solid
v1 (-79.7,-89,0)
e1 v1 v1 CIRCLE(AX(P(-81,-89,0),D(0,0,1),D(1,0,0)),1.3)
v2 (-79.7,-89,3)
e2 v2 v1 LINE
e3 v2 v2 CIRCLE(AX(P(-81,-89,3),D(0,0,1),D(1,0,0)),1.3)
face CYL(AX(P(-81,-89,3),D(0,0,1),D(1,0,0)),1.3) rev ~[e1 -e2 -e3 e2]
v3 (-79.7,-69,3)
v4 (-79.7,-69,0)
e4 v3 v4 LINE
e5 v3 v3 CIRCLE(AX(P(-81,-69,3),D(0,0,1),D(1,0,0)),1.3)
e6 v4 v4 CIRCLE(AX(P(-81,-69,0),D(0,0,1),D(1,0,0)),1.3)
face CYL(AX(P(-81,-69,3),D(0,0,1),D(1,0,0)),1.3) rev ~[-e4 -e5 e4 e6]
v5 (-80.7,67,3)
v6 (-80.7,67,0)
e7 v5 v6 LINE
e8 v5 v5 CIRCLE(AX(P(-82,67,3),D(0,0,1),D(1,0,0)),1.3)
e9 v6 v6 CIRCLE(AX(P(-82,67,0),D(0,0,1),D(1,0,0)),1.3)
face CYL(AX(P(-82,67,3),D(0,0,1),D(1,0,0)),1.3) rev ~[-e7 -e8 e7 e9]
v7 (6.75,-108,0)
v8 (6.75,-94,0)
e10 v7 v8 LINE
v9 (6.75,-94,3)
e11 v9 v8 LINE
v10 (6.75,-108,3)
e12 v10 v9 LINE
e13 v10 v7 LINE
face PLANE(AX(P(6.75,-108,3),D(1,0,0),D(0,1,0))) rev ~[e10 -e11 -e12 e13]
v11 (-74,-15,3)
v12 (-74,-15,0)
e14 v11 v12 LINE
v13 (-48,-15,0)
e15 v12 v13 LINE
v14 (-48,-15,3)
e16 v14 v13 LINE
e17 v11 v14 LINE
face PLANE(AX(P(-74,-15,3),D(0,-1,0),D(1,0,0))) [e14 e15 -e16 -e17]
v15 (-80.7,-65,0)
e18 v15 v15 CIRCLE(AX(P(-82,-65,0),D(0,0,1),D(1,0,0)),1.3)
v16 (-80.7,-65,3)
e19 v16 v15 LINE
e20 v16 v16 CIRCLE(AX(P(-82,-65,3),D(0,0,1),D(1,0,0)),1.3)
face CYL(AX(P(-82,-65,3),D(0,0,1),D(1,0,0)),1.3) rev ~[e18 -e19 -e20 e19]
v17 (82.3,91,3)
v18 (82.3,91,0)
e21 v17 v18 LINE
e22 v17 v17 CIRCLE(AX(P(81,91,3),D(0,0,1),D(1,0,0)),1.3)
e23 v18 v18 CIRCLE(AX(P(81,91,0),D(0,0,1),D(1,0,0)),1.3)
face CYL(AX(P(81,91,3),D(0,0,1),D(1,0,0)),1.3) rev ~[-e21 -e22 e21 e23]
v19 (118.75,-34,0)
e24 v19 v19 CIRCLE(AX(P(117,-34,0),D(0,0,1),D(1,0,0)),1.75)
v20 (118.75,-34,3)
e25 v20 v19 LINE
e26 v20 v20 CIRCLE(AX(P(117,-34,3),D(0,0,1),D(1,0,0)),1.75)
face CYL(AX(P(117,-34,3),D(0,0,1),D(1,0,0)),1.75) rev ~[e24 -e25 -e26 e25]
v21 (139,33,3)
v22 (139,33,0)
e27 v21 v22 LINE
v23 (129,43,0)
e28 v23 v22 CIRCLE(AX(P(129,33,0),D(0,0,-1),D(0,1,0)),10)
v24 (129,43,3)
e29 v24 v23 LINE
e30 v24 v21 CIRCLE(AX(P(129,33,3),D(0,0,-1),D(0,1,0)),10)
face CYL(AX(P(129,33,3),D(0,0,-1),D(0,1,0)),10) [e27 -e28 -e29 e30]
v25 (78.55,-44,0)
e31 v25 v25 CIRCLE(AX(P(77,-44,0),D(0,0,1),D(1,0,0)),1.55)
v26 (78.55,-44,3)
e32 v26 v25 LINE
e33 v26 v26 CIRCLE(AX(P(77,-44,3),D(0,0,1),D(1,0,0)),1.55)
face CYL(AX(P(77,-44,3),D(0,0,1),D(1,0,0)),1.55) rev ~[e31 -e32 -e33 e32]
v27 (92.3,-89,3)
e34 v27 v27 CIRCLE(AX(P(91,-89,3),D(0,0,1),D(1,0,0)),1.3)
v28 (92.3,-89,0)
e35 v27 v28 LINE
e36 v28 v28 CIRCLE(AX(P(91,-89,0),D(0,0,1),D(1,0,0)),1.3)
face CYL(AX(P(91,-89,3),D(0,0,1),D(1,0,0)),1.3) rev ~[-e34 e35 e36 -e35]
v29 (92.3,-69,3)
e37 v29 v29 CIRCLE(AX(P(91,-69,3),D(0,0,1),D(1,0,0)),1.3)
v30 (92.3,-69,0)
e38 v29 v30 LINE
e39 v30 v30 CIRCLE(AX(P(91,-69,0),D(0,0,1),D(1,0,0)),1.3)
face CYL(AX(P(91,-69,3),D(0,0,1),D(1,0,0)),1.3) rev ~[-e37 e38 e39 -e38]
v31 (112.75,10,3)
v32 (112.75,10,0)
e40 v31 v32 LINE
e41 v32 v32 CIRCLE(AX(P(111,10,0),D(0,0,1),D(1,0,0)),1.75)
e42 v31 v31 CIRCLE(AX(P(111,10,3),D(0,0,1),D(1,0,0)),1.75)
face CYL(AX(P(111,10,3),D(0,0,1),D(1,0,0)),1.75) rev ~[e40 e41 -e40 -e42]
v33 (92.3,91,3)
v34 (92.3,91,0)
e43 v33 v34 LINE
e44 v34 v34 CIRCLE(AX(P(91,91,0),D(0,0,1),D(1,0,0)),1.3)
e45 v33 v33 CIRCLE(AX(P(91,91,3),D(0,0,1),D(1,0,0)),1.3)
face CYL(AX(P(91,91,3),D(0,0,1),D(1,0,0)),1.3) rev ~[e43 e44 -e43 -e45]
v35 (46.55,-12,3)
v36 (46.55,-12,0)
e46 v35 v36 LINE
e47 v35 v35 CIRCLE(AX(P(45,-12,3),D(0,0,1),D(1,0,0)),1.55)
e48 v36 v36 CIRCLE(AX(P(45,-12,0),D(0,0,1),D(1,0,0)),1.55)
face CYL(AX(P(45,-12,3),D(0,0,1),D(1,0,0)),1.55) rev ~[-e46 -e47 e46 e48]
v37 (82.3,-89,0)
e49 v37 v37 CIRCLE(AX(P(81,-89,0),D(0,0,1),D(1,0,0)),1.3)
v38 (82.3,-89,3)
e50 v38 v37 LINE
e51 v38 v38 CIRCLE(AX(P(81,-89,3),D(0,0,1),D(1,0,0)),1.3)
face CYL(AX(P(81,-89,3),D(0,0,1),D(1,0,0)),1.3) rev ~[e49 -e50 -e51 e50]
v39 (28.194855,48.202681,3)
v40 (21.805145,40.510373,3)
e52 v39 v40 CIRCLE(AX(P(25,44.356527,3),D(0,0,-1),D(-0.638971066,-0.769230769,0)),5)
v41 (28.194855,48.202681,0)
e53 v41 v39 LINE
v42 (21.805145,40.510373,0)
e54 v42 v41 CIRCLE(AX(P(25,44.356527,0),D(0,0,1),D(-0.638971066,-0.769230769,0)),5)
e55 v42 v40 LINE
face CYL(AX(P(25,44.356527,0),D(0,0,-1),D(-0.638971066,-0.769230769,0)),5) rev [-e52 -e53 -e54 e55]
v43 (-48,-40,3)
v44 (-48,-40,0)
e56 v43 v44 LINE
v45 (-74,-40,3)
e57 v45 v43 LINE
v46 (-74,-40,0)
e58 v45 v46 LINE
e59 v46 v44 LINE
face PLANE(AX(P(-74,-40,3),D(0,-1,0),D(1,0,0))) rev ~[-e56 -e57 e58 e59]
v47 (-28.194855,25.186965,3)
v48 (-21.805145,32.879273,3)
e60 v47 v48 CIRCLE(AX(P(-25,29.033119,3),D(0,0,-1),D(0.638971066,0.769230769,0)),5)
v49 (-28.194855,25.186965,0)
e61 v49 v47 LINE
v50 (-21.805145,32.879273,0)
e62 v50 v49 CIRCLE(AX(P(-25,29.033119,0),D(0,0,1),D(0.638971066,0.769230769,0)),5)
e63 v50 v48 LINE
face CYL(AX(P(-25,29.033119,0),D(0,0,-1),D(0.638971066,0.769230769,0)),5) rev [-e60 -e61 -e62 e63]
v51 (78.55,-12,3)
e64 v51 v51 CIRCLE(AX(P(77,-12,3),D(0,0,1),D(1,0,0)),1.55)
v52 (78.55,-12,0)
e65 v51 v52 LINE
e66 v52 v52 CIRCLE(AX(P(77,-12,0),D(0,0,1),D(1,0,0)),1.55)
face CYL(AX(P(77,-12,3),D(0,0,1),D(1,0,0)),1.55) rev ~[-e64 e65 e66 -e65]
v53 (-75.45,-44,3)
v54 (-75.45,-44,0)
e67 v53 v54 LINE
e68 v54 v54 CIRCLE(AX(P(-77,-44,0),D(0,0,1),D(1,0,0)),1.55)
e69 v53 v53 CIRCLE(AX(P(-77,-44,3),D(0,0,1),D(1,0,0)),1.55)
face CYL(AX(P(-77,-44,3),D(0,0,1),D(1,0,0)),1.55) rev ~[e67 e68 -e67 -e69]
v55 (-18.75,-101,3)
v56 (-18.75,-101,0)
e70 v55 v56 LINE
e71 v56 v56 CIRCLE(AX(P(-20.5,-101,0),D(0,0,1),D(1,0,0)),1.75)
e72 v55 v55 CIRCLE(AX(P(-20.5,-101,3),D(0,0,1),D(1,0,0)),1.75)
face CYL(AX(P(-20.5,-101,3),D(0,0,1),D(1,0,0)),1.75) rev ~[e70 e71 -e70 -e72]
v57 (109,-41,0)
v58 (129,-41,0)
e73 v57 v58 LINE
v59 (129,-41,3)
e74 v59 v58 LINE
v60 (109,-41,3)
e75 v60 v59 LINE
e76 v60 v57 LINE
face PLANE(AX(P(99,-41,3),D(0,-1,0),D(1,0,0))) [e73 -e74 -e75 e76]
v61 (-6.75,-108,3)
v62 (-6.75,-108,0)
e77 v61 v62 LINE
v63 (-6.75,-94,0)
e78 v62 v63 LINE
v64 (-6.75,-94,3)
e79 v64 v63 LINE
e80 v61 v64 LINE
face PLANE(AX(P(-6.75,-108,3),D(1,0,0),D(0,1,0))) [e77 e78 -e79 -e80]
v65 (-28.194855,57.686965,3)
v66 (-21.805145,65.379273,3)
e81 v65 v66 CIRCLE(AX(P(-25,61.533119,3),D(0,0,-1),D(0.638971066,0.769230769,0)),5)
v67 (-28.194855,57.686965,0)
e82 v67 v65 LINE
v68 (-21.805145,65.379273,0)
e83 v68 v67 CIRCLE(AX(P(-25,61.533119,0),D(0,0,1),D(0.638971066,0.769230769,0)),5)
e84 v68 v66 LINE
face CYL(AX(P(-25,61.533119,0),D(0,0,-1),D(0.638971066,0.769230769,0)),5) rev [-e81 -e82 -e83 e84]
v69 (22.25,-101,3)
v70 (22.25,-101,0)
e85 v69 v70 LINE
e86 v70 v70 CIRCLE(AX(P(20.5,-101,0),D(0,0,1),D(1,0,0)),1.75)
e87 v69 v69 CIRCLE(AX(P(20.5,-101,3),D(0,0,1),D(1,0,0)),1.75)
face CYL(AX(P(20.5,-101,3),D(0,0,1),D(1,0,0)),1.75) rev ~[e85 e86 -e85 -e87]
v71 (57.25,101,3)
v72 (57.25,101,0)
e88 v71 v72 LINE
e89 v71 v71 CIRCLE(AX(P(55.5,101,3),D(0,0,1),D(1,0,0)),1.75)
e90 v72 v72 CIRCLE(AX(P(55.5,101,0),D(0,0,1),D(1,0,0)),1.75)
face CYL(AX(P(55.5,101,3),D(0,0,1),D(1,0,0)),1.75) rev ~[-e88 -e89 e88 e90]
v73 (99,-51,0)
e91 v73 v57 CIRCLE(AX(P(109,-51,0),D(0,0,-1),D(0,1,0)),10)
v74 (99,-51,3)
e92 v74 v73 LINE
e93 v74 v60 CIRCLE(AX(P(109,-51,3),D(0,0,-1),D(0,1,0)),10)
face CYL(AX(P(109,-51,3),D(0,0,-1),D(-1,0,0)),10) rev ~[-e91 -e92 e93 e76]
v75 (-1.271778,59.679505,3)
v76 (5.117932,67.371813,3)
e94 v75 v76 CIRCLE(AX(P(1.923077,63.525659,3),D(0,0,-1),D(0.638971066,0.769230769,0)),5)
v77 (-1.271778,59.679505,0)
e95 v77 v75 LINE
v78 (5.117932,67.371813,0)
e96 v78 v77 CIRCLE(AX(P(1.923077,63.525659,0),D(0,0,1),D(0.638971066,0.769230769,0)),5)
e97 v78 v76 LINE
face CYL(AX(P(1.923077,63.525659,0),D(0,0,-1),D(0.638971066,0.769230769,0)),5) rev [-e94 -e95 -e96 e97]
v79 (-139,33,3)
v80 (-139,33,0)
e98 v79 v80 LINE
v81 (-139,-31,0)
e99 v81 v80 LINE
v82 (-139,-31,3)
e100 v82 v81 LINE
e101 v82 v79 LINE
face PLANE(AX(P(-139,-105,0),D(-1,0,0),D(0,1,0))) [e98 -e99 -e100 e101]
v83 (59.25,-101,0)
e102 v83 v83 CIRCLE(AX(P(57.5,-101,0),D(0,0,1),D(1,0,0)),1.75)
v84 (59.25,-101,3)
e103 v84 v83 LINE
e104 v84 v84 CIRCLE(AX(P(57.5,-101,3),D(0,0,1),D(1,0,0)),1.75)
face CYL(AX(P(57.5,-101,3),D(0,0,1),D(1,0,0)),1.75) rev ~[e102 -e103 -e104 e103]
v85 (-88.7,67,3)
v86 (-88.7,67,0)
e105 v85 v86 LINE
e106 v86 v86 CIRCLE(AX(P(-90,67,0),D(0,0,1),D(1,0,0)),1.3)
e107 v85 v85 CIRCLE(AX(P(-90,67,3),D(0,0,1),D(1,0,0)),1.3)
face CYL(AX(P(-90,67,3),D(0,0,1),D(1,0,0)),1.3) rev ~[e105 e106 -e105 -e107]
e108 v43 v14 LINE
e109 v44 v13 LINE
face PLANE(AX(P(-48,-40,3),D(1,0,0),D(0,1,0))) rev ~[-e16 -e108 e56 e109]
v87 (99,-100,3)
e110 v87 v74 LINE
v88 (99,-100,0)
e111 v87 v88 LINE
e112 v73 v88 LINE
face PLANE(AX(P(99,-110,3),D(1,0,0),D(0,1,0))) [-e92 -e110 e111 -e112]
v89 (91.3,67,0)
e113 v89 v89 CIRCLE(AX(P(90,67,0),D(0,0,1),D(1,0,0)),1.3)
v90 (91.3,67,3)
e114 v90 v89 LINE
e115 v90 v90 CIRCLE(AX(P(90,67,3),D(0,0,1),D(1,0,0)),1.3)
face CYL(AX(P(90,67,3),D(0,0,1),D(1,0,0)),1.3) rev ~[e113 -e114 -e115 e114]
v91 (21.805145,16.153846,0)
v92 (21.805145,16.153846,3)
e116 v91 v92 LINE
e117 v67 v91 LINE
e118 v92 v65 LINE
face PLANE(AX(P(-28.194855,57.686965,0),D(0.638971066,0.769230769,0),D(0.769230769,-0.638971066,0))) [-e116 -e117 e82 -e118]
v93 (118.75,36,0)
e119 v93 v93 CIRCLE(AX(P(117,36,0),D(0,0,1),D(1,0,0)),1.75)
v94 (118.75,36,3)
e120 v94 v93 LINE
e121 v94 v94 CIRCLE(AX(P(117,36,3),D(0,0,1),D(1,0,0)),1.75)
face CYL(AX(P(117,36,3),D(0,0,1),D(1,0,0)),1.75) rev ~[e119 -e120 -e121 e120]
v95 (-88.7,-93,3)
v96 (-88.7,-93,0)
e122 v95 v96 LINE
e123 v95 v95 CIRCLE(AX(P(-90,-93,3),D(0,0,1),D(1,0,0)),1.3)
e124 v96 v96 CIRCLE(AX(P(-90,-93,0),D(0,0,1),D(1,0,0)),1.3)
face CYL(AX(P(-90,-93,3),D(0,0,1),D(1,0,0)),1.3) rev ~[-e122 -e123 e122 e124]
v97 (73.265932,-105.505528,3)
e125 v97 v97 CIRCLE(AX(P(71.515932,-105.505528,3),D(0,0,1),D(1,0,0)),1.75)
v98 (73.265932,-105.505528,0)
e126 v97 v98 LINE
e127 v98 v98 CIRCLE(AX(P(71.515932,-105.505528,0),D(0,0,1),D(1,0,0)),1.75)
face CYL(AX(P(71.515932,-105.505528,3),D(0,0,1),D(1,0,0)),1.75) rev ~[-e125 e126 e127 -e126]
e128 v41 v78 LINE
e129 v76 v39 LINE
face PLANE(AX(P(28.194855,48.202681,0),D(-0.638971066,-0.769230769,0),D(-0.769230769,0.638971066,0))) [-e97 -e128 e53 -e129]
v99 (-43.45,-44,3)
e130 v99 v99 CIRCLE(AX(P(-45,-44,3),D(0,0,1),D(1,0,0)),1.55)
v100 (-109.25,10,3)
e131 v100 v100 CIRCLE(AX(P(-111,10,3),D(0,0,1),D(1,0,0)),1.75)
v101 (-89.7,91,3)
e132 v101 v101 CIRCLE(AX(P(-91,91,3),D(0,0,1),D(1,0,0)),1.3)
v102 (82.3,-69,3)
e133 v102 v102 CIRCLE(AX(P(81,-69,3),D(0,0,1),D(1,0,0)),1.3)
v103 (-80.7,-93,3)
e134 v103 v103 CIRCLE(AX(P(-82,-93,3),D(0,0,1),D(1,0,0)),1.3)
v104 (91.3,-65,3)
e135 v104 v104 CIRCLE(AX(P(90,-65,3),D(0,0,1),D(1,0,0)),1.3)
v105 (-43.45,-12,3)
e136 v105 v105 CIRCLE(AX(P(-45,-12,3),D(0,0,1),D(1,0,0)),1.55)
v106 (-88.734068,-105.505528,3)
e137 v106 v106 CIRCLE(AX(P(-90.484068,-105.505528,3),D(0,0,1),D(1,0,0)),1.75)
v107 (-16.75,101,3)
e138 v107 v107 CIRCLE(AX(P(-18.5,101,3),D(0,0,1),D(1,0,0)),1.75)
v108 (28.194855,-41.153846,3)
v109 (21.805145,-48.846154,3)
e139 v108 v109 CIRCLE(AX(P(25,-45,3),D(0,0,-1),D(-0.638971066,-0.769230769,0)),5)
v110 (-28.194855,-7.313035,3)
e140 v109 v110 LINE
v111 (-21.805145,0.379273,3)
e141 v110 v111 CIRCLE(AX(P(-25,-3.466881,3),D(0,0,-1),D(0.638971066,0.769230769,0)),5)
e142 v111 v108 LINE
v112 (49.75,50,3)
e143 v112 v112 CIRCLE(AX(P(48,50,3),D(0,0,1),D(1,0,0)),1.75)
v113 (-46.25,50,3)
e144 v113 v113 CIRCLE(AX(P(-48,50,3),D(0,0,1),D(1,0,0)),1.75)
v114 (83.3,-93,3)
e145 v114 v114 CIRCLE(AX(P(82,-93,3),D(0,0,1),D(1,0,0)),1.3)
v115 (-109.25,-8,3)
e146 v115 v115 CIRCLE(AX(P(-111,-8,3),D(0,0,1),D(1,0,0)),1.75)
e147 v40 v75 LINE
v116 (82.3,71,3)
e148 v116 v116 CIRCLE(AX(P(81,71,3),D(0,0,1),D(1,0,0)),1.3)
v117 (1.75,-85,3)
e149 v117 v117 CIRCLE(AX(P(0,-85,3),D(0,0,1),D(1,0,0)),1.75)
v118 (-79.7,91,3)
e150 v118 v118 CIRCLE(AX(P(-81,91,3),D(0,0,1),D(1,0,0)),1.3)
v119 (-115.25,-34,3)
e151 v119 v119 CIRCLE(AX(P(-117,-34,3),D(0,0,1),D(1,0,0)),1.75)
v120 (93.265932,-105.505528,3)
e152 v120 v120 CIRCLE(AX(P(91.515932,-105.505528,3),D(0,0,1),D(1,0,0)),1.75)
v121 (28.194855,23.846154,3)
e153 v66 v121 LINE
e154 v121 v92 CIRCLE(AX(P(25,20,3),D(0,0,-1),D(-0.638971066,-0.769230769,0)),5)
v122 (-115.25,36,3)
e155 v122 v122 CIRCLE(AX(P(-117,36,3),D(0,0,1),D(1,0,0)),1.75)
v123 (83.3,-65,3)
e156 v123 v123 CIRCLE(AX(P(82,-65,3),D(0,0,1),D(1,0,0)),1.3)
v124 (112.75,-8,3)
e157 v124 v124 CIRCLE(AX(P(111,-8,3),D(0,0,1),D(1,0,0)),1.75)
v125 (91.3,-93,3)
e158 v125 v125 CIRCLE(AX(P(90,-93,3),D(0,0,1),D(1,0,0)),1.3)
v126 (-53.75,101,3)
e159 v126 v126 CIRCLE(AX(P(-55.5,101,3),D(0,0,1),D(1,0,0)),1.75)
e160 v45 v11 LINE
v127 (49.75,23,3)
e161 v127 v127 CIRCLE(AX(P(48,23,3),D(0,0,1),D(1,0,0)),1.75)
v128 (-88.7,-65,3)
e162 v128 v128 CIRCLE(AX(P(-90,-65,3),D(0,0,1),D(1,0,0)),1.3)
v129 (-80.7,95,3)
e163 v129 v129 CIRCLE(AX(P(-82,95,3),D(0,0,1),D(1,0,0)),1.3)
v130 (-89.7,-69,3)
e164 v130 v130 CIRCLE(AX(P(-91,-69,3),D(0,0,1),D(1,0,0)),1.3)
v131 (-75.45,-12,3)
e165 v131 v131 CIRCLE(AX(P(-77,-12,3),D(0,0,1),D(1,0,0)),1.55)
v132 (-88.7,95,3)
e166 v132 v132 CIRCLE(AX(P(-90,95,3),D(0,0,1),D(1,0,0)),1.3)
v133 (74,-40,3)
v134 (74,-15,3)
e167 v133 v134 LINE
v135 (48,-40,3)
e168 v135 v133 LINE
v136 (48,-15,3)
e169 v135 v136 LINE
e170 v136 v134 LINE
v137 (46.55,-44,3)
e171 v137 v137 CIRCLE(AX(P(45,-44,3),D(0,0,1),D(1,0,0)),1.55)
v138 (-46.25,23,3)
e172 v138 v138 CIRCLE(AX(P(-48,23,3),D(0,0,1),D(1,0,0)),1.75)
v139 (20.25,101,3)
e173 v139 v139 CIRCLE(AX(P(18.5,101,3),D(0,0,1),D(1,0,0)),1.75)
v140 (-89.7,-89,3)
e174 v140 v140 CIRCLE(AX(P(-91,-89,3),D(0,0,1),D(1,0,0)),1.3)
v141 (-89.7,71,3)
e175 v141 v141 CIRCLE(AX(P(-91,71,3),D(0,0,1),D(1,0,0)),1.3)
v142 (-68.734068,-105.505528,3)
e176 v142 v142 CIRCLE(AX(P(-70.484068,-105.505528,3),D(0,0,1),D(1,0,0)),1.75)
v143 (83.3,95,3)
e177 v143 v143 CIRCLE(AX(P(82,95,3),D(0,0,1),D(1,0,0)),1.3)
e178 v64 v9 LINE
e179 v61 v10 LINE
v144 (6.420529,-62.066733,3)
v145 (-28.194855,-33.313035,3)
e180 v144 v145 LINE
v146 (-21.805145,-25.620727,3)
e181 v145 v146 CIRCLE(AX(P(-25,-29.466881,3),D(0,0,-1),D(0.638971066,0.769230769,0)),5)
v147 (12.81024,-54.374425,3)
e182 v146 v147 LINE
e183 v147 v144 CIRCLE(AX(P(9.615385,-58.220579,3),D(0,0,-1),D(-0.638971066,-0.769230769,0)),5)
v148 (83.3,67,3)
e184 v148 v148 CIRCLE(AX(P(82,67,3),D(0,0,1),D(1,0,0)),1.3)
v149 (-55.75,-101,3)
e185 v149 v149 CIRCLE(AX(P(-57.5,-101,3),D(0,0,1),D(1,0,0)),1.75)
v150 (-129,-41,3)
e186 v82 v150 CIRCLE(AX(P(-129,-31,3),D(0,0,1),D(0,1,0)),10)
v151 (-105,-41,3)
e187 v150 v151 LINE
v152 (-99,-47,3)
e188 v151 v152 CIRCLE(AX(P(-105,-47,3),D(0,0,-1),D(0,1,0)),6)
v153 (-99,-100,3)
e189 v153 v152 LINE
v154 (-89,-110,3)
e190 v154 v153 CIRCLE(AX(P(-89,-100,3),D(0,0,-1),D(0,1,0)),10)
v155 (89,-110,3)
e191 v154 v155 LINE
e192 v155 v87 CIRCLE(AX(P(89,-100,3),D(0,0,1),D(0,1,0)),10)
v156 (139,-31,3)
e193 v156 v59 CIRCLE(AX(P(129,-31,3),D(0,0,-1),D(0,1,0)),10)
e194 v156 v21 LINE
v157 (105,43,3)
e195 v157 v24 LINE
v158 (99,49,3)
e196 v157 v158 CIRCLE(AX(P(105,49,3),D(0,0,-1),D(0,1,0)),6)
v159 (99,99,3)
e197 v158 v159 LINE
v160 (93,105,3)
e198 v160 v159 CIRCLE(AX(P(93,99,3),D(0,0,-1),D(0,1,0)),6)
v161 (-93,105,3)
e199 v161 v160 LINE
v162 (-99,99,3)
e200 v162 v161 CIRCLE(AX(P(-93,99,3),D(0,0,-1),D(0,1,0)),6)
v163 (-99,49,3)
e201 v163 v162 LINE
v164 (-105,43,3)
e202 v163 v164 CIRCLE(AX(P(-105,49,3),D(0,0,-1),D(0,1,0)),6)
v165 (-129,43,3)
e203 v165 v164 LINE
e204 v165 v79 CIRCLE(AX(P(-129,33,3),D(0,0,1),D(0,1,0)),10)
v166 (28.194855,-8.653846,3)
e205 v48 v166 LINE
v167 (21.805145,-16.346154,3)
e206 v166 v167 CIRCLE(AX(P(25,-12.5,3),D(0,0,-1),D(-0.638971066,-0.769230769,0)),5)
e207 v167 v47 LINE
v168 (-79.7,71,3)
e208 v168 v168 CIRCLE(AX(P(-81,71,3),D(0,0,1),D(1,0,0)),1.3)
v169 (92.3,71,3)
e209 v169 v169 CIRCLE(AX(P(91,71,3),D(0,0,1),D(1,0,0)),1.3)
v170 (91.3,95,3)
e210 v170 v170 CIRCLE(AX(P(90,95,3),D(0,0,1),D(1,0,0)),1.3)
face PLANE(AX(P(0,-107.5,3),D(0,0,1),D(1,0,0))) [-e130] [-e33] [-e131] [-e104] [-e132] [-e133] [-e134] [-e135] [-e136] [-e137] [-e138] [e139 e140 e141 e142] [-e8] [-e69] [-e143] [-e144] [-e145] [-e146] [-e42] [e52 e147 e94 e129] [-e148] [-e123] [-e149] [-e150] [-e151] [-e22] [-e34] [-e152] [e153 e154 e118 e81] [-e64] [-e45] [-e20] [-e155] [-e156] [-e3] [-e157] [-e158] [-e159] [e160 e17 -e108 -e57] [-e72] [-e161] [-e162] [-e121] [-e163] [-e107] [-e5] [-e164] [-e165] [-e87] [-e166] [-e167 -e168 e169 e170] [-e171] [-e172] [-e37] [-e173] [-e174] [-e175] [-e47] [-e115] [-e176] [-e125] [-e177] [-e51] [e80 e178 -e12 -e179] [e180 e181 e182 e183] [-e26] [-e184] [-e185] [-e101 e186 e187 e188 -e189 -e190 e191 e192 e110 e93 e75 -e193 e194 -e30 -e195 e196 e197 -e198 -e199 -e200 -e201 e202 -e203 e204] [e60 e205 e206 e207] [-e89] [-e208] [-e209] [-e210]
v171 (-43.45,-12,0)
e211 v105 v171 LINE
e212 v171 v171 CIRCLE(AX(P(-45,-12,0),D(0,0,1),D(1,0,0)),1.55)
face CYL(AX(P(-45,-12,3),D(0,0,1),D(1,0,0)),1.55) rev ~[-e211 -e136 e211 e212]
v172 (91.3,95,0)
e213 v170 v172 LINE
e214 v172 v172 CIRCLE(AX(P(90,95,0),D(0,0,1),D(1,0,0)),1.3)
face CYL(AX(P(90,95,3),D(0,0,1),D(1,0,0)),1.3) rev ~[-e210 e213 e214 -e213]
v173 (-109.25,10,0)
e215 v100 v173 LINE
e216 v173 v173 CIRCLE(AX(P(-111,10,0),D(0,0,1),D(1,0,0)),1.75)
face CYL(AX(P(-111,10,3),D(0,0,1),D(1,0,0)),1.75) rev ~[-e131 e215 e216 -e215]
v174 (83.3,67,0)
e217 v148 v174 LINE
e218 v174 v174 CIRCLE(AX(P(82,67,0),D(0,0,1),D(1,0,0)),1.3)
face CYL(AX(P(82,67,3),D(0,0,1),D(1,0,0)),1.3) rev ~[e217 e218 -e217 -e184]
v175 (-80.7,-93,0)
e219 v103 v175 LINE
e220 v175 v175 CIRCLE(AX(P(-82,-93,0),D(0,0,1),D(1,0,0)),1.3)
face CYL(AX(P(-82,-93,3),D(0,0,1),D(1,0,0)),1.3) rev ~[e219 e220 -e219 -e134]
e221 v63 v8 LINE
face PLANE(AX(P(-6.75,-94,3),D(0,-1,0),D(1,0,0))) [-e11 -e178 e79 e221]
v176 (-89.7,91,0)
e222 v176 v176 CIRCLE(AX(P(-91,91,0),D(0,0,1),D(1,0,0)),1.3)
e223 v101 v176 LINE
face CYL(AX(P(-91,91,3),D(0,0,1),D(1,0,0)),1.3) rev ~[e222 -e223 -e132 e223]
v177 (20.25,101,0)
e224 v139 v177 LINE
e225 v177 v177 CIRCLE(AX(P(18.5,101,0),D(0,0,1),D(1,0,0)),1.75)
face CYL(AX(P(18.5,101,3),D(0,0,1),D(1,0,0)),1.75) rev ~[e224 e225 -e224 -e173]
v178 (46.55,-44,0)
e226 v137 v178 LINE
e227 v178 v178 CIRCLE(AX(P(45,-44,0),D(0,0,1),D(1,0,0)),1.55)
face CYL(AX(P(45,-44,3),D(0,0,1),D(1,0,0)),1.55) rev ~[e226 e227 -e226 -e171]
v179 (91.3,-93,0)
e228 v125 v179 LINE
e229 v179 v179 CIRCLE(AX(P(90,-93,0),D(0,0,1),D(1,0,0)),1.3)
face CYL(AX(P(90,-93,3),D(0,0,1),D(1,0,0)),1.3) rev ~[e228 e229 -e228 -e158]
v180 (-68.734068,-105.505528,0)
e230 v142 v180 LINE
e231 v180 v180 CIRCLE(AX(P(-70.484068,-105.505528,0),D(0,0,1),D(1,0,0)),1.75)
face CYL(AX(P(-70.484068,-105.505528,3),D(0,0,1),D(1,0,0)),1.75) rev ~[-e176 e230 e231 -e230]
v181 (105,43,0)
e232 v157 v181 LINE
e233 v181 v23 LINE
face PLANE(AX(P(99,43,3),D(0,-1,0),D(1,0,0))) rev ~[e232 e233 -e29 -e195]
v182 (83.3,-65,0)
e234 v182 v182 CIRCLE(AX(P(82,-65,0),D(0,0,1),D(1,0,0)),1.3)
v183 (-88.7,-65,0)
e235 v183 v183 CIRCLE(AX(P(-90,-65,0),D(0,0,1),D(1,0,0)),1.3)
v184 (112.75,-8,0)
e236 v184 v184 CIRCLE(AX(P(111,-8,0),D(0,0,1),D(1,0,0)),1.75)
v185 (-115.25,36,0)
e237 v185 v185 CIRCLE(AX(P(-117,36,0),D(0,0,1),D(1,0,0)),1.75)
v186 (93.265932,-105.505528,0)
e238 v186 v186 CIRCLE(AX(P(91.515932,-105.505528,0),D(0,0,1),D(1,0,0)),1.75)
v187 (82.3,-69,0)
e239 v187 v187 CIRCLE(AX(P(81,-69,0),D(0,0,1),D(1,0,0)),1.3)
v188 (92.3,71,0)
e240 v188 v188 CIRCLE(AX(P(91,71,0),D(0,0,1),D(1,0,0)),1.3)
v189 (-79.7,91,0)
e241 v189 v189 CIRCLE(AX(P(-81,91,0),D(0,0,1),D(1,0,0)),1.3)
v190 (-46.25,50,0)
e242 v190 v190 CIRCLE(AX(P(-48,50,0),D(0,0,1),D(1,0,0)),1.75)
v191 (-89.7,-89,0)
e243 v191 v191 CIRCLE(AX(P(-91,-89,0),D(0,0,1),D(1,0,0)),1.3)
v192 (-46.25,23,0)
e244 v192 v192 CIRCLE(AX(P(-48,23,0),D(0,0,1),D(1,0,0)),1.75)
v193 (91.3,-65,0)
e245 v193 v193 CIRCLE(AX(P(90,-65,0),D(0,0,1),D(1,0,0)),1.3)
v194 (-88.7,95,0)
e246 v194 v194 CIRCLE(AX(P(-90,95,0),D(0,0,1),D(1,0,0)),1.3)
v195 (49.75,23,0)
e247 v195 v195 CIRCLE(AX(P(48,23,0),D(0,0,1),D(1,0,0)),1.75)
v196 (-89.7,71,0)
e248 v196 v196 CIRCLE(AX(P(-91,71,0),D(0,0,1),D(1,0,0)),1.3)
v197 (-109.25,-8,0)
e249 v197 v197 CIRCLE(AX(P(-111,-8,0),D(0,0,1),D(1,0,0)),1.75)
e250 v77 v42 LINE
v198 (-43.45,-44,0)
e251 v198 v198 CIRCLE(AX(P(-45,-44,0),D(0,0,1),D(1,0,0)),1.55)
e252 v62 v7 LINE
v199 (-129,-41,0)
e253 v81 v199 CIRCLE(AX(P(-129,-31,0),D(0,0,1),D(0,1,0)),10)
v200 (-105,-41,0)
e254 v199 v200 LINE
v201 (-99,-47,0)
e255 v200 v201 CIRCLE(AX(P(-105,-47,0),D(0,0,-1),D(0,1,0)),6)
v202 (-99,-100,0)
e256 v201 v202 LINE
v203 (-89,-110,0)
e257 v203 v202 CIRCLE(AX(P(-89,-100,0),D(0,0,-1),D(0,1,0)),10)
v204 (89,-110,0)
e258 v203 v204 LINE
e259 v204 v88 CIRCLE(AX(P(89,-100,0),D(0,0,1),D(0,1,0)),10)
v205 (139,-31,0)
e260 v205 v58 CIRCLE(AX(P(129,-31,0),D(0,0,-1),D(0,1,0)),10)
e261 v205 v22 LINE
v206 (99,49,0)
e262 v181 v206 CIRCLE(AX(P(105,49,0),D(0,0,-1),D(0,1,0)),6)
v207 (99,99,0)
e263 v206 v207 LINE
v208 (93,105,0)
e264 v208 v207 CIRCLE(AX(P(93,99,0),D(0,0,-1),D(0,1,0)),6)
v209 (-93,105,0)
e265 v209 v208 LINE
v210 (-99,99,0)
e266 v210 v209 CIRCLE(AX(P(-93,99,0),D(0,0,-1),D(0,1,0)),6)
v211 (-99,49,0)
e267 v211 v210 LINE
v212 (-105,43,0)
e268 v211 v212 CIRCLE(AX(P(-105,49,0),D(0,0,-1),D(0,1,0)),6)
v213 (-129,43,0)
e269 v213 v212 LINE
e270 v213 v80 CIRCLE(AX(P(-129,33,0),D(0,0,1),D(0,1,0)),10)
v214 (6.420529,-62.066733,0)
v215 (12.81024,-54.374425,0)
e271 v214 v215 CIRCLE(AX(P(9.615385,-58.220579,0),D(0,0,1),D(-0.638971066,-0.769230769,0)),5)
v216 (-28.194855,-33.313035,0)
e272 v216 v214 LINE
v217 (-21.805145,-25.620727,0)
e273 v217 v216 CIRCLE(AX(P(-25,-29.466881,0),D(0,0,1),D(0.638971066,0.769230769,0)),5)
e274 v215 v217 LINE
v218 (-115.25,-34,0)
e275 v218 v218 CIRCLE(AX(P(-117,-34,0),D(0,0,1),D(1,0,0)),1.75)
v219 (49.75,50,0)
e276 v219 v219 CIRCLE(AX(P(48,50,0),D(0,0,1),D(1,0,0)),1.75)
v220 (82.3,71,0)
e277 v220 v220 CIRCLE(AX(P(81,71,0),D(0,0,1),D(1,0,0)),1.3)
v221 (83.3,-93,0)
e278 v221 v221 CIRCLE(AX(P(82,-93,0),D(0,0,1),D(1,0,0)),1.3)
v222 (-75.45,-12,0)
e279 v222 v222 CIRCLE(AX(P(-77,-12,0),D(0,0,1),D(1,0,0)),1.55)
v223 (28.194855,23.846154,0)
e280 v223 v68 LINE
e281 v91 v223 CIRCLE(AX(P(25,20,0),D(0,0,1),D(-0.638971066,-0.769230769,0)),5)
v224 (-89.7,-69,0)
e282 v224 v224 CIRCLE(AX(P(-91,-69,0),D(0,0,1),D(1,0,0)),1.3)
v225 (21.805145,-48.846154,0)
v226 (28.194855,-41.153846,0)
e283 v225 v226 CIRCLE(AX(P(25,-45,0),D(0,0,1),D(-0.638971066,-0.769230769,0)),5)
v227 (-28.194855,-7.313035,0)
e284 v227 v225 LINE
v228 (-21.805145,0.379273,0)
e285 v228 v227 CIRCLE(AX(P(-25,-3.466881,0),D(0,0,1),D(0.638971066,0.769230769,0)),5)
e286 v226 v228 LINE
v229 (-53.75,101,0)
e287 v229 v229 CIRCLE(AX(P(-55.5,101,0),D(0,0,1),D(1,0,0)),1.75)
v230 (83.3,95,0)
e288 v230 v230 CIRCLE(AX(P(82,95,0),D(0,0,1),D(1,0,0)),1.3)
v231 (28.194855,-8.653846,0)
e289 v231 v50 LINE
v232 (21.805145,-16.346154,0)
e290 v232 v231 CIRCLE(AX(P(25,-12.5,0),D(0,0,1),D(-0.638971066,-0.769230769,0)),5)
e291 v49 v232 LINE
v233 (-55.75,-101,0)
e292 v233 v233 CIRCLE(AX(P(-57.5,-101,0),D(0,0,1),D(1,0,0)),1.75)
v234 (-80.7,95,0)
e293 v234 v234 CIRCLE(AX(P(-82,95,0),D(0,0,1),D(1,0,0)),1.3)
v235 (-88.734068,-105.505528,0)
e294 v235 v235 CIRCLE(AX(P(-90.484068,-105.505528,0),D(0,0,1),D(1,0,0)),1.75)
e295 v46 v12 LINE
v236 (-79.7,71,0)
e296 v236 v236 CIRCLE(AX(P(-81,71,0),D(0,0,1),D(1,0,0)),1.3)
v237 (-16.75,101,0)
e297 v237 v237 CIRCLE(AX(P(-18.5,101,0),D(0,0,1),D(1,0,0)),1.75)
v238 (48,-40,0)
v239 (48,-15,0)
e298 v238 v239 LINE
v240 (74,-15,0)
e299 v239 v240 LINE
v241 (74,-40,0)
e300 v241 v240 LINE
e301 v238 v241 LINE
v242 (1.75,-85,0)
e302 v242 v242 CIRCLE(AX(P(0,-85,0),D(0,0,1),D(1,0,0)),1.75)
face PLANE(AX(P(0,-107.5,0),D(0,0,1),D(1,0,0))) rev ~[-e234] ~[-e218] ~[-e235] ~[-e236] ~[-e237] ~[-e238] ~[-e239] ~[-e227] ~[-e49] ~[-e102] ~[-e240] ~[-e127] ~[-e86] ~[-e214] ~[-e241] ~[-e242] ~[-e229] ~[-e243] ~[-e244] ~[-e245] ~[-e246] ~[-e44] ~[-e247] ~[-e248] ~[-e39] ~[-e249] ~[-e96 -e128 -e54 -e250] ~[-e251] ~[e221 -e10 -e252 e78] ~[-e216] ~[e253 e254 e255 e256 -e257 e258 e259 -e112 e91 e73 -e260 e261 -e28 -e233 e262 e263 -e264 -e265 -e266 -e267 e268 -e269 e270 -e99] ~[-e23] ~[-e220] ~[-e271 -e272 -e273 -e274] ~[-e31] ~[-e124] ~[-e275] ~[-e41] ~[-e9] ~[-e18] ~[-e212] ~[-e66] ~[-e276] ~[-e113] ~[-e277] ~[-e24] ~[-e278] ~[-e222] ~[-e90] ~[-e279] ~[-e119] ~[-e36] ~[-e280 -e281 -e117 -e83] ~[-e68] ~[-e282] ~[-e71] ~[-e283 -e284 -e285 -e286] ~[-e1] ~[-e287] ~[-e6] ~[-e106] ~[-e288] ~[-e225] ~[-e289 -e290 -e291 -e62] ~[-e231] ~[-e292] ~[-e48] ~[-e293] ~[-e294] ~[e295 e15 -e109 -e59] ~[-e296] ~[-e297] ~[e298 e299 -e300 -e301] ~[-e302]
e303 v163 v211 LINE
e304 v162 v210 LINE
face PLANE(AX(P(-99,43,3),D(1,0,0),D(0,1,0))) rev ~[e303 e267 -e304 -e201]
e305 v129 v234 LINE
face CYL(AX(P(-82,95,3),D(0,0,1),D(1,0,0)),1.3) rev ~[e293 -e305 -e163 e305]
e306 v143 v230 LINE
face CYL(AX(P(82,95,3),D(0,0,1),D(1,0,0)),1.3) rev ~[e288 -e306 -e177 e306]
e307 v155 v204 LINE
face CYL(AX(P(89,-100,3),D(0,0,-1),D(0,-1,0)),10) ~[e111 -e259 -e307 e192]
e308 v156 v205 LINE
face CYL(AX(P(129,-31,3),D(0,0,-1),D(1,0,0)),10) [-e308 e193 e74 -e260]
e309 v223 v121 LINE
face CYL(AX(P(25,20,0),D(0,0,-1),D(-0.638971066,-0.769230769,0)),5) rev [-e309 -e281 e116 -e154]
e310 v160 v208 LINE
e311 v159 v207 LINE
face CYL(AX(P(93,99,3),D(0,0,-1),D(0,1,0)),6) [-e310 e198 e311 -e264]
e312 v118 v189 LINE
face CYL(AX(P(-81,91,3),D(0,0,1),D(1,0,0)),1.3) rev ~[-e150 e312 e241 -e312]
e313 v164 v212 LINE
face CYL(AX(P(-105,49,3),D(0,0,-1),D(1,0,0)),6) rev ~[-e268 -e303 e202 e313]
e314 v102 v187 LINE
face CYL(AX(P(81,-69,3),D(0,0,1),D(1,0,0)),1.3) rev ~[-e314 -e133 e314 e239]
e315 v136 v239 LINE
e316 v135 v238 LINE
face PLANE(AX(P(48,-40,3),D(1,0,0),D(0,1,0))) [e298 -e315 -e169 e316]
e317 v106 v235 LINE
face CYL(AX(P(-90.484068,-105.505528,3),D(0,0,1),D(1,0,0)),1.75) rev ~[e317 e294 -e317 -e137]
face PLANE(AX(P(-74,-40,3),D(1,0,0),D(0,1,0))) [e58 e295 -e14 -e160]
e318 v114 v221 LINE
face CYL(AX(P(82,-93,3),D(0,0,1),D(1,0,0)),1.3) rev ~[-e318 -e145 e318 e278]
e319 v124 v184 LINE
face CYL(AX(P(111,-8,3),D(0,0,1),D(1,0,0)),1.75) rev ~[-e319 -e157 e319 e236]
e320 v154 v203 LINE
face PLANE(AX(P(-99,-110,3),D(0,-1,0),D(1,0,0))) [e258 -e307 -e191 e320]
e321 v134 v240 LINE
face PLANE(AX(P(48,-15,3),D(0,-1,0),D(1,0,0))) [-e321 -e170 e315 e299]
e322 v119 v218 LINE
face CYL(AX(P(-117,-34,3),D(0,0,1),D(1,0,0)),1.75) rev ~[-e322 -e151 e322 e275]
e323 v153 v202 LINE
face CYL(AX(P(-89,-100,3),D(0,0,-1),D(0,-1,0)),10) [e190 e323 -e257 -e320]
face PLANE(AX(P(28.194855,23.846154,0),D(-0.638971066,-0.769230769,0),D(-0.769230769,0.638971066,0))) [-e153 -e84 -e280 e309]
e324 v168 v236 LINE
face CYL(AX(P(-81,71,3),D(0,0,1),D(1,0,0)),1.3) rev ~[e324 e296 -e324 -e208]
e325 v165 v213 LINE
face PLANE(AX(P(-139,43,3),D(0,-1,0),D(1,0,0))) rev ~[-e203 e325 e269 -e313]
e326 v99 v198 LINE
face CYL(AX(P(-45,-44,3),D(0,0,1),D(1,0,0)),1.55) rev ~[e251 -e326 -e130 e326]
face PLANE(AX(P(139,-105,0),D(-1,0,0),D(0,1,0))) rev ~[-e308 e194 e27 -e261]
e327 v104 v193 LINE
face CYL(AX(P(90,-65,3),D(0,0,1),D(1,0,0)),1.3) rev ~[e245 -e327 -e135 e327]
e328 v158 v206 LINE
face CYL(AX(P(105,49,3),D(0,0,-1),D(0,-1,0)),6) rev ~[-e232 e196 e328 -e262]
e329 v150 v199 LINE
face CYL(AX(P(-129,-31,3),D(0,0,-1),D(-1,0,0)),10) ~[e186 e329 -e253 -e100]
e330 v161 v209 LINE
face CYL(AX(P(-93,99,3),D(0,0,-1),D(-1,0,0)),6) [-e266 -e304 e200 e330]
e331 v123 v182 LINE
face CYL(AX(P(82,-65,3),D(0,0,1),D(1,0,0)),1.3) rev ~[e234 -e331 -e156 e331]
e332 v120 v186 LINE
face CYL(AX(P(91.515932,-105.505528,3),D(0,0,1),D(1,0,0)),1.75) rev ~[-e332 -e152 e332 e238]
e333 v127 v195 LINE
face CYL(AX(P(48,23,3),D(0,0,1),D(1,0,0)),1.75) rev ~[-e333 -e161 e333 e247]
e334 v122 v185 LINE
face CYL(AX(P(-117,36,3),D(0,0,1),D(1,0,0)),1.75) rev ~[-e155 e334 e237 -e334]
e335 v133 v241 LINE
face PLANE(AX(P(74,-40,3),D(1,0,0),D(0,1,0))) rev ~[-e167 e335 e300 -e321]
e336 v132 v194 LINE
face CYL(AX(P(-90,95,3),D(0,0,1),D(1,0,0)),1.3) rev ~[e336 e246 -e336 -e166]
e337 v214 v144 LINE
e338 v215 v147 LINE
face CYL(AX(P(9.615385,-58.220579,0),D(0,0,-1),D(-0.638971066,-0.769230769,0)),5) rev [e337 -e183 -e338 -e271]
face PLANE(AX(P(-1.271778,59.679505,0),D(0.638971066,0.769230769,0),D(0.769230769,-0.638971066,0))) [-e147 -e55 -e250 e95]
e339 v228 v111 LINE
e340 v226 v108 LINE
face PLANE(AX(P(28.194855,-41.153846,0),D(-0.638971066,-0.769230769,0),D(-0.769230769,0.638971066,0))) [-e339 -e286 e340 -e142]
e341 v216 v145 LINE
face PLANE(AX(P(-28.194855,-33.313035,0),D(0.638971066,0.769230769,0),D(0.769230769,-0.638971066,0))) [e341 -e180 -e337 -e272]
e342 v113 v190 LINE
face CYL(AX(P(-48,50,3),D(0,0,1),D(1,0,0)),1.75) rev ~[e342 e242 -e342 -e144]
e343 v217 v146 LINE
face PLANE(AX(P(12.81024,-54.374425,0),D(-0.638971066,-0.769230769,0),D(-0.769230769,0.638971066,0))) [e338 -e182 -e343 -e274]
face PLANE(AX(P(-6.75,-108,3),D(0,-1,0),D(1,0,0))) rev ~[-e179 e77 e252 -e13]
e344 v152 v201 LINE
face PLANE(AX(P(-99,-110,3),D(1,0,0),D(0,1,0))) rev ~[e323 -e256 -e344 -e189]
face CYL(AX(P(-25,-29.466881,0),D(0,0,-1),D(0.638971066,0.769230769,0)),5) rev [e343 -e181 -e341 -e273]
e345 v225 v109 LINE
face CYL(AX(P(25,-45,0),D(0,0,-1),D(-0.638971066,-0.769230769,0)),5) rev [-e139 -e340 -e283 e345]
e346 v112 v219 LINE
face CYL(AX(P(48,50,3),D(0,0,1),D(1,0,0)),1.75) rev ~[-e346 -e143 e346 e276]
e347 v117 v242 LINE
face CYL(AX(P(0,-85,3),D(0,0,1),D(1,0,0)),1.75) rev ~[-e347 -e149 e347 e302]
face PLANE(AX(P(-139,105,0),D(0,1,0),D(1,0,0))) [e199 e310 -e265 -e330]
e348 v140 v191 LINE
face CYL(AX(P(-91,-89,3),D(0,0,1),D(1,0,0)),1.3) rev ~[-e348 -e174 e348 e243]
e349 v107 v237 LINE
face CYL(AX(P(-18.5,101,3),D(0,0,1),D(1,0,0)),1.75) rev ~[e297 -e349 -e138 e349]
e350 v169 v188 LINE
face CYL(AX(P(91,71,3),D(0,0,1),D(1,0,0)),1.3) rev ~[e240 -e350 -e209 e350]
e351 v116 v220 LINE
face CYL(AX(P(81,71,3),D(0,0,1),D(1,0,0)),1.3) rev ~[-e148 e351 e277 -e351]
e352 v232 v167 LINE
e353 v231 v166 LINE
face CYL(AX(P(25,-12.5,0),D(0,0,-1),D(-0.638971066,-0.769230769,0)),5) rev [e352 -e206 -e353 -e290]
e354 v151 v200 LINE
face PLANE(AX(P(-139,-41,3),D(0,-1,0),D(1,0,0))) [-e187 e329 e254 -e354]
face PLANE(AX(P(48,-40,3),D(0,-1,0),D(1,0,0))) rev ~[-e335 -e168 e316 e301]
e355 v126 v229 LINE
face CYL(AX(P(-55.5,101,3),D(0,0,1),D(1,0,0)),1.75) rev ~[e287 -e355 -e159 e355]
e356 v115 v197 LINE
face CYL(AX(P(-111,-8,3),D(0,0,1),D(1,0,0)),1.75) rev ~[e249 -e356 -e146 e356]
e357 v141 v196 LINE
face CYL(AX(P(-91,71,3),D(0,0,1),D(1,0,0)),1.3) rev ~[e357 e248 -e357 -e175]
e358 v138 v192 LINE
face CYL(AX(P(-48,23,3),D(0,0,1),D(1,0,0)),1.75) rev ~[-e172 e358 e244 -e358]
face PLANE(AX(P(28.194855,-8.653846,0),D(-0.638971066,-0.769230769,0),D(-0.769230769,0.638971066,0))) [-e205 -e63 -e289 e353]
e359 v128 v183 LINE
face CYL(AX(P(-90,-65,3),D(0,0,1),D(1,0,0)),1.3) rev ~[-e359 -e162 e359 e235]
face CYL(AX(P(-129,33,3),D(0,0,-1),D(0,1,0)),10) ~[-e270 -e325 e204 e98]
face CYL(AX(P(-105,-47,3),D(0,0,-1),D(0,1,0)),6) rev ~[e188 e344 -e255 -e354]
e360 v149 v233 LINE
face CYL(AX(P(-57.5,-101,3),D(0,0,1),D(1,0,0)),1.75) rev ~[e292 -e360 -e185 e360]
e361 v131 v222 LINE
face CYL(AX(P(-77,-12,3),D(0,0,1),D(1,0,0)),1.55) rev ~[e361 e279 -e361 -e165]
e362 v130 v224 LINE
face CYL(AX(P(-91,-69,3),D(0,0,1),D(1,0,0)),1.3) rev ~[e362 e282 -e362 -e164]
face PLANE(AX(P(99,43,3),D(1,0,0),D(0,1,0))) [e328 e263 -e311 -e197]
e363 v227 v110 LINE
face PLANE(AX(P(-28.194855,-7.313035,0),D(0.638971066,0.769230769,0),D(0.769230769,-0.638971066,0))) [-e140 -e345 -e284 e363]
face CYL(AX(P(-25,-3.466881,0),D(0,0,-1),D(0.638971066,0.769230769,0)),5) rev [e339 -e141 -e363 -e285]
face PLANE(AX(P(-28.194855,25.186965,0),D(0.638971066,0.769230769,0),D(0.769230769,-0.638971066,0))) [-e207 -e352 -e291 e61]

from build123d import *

# Parameters (mm, degrees)
SKETCH_1_W           = 278
SKETCH_1_H           = 210
EXTRUDE_1_DEPTH      = 3
SKETCH_2_W           = 40
SKETCH_2_H           = 62
SKETCH_2_H_2         = 64
CUT_EXTRUDE_1_DEPTH  = 3
SKETCH_3_R           = 1.2
CUT_EXTRUDE_2_DEPTH  = 3
SKETCH_5_R           = 1.3
CUT_EXTRUDE_4_DEPTH  = 3
SKETCH_7_R           = 1.75
CUT_EXTRUDE_5_DEPTH  = 3
SKETCH_8_W           = 198
SKETCH_8_H           = 5
EXTRUDE_2_DEPTH      = 3
SKETCH_9_R           = 1.75
SKETCH_9_W           = 13.5
SKETCH_9_H           = 14
CUT_EXTRUDE_6_DEPTH  = 3
SKETCH_11_R          = 1.75
CUT_EXTRUDE_7_DEPTH  = 3
SKETCH_12_R          = 1.55
SKETCH_12_W          = 26
SKETCH_12_H          = 25
CUT_EXTRUDE_8_DEPTH  = 3
FILLET_1_R           = 6
FILLET_2_R           = 6
FILLET_3_R           = 6
FILLET_4_R           = 10
FILLET_5_R           = 10
FILLET_6_R           = 6
FILLET_7_R           = 6
FILLET_8_R           = 10
FILLET_9_R           = 10
FILLET_10_R          = 10
FILLET_11_R          = 10
SKETCH_17_R          = 1.75
CUT_EXTRUDE_9_DEPTH  = 3
SKETCH_18_R          = 1.75
CUT_EXTRUDE_10_DEPTH = 3
SKETCH_22_R          = 1.75
CUT_EXTRUDE_11_DEPTH = 3
FILLET_12_R          = 10
SKETCH_23_R          = 1.3
CUT_EXTRUDE_12_DEPTH = 10
SKETCH_24_R          = 1.3
CUT_EXTRUDE_13_DEPTH = 10
SKETCH_25_R          = 1.75
CUT_EXTRUDE_14_DEPTH = 3
CUT_EXTRUDE_15_DEPTH = 178.285081155


with BuildPart() as part:
    # 草图1 → 凸台-拉伸1 (new body)
    with BuildSketch(Plane.XY):
        Rectangle(SKETCH_1_W, SKETCH_1_H)
    extrude(amount=EXTRUDE_1_DEPTH)

    # 草图2 → 切除-拉伸1 (cut)
    with BuildSketch(Plane.XY.offset(3)):
        with Locations((-119, 74)):
            Rectangle(SKETCH_2_W, SKETCH_2_H)
        with Locations((119, 74)):
            Rectangle(SKETCH_2_W, SKETCH_2_H)
        with Locations((-119, -73)):
            Rectangle(SKETCH_2_W, SKETCH_2_H_2)
        with Locations((119, -73)):
            Rectangle(SKETCH_2_W, SKETCH_2_H_2)
    extrude(amount=-CUT_EXTRUDE_1_DEPTH, mode=Mode.SUBTRACT)

    # 草图3 → 切除-拉伸2 (cut)
    with BuildSketch(Plane.XY.offset(3)):
        with Locations((-90, 95)):
            Circle(SKETCH_3_R)
        with Locations((-90, 67)):
            Circle(SKETCH_3_R)
        with Locations((-82, 95)):
            Circle(SKETCH_3_R)
        with Locations((-82, 67)):
            Circle(SKETCH_3_R)
        with Locations((82, 95)):
            Circle(SKETCH_3_R)
        with Locations((90, 95)):
            Circle(SKETCH_3_R)
        with Locations((90, 67)):
            Circle(SKETCH_3_R)
        with Locations((82, 67)):
            Circle(SKETCH_3_R)
    extrude(amount=-CUT_EXTRUDE_2_DEPTH, mode=Mode.SUBTRACT)

    # 草图5 → 切除-拉伸4 (cut)
    with BuildSketch(Plane.XY.offset(3)):
        with Locations((-90, -65)):
            Circle(SKETCH_5_R)
        with Locations((-90, -93)):
            Circle(SKETCH_5_R)
        with Locations((-82, -65)):
            Circle(SKETCH_5_R)
        with Locations((-82, -93)):
            Circle(SKETCH_5_R)
        with Locations((90, -65)):
            Circle(SKETCH_5_R)
        with Locations((82, -65)):
            Circle(SKETCH_5_R)
        with Locations((82, -93)):
            Circle(SKETCH_5_R)
        with Locations((90, -93)):
            Circle(SKETCH_5_R)
    extrude(amount=-CUT_EXTRUDE_4_DEPTH, mode=Mode.SUBTRACT)

    # 草图7 → 切除-拉伸5 (cut)
    with BuildSketch(Plane.XY.offset(3)):
        with Locations((-57.5, -101)):
            Circle(SKETCH_7_R)
        with Locations((-20.5, -101)):
            Circle(SKETCH_7_R)
        with Locations((20.5, -101)):
            Circle(SKETCH_7_R)
        with Locations((57.5, -101)):
            Circle(SKETCH_7_R)
    extrude(amount=-CUT_EXTRUDE_5_DEPTH, mode=Mode.SUBTRACT)

    # 草图8 → 凸台-拉伸2 (add)
    with BuildSketch(Plane.XY.offset(3)):
        with Locations((0, -107.5)):
            Rectangle(SKETCH_8_W, SKETCH_8_H)
    extrude(amount=-EXTRUDE_2_DEPTH)

    # 草图9 → 切除-拉伸6 (cut)
    with BuildSketch(Plane.XY.offset(3)):
        with Locations((0, -85)):
            Circle(SKETCH_9_R)
        with Locations((0, -101)):
            Rectangle(SKETCH_9_W, SKETCH_9_H)
    extrude(amount=-CUT_EXTRUDE_6_DEPTH, mode=Mode.SUBTRACT)

    # 草图11 → 切除-拉伸7 (cut)
    with BuildSketch(Plane.XY.offset(3)):
        with Locations((-55.5, 101)):
            Circle(SKETCH_11_R)
        with Locations((-18.5, 101)):
            Circle(SKETCH_11_R)
        with Locations((18.5, 101)):
            Circle(SKETCH_11_R)
        with Locations((55.5, 101)):
            Circle(SKETCH_11_R)
    extrude(amount=-CUT_EXTRUDE_7_DEPTH, mode=Mode.SUBTRACT)

    # 草图12 → 切除-拉伸8 (cut)
    with BuildSketch(Plane.XY.offset(3)):
        with Locations((-77, -12)):
            Circle(SKETCH_12_R)
        with Locations((-45, -12)):
            Circle(SKETCH_12_R)
        with Locations((-77, -44)):
            Circle(SKETCH_12_R)
        with Locations((-45, -44)):
            Circle(SKETCH_12_R)
        with Locations((45, -12)):
            Circle(SKETCH_12_R)
        with Locations((77, -12)):
            Circle(SKETCH_12_R)
        with Locations((45, -44)):
            Circle(SKETCH_12_R)
        with Locations((77, -44)):
            Circle(SKETCH_12_R)
        with Locations((-61, -27.5)):
            Rectangle(SKETCH_12_W, SKETCH_12_H)
        with Locations((61, -27.5)):
            Rectangle(SKETCH_12_W, SKETCH_12_H)
    extrude(amount=-CUT_EXTRUDE_8_DEPTH, mode=Mode.SUBTRACT)

    # 圆角1
    fillet_1_edges = [part.edges().sort_by_distance(p)[0] for p in [
        (-99, 105, 1.5),
    ]]
    fillet(fillet_1_edges, radius=FILLET_1_R)

    # 圆角2
    fillet_2_edges = [part.edges().sort_by_distance(p)[0] for p in [
        (99, 105, 1.5),
    ]]
    fillet(fillet_2_edges, radius=FILLET_2_R)

    # 圆角3
    fillet_3_edges = [part.edges().sort_by_distance(p)[0] for p in [
        (-99, 43, 1.5),
    ]]
    fillet(fillet_3_edges, radius=FILLET_3_R)

    # 圆角4
    fillet_4_edges = [part.edges().sort_by_distance(p)[0] for p in [
        (-139, 43, 1.5),
    ]]
    fillet(fillet_4_edges, radius=FILLET_4_R)

    # 圆角5
    fillet_5_edges = [part.edges().sort_by_distance(p)[0] for p in [
        (-139, -41, 1.5),
    ]]
    fillet(fillet_5_edges, radius=FILLET_5_R)

    # 圆角6
    fillet_6_edges = [part.edges().sort_by_distance(p)[0] for p in [
        (-99, -41, 1.5),
    ]]
    fillet(fillet_6_edges, radius=FILLET_6_R)

    # 圆角7
    fillet_7_edges = [part.edges().sort_by_distance(p)[0] for p in [
        (99, 43, 1.5),
    ]]
    fillet(fillet_7_edges, radius=FILLET_7_R)

    # 圆角8
    fillet_8_edges = [part.edges().sort_by_distance(p)[0] for p in [
        (139, 43, 1.5),
    ]]
    fillet(fillet_8_edges, radius=FILLET_8_R)

    # 圆角9
    fillet_9_edges = [part.edges().sort_by_distance(p)[0] for p in [
        (139, -41, 1.5),
    ]]
    fillet(fillet_9_edges, radius=FILLET_9_R)

    # 圆角10
    fillet_10_edges = [part.edges().sort_by_distance(p)[0] for p in [
        (-99, -110, 1.5),
    ]]
    fillet(fillet_10_edges, radius=FILLET_10_R)

    # 圆角11
    fillet_11_edges = [part.edges().sort_by_distance(p)[0] for p in [
        (99, -110, 1.5),
    ]]
    fillet(fillet_11_edges, radius=FILLET_11_R)

    # 草图17 → 切除-拉伸9 (cut)
    with BuildSketch(Plane.XY.offset(3)):
        with Locations((-117, 36)):
            Circle(SKETCH_17_R)
        with Locations((-111, 10)):
            Circle(SKETCH_17_R)
        with Locations((-111, -8)):
            Circle(SKETCH_17_R)
        with Locations((-117, -34)):
            Circle(SKETCH_17_R)
    extrude(amount=-CUT_EXTRUDE_9_DEPTH, mode=Mode.SUBTRACT)

    # 草图18 → 切除-拉伸10 (cut)
    with BuildSketch(Plane.XY.offset(3)):
        with Locations((111, 10)):
            Circle(SKETCH_18_R)
        with Locations((117, 36)):
            Circle(SKETCH_18_R)
        with Locations((111, -8)):
            Circle(SKETCH_18_R)
        with Locations((117, -34)):
            Circle(SKETCH_18_R)
    extrude(amount=-CUT_EXTRUDE_10_DEPTH, mode=Mode.SUBTRACT)

    # 草图22 → 切除-拉伸11 (cut)
    with BuildSketch(Plane.XY.offset(3)):
        with Locations((-90.484067519, -105.505527682)):
            Circle(SKETCH_22_R)
        with Locations((-70.484067519, -105.505527682)):
            Circle(SKETCH_22_R)
        with Locations((71.515932481, -105.505527682)):
            Circle(SKETCH_22_R)
        with Locations((91.515932481, -105.505527682)):
            Circle(SKETCH_22_R)
    extrude(amount=-CUT_EXTRUDE_11_DEPTH, mode=Mode.SUBTRACT)

    # 圆角12
    fillet_12_edges = [part.edges().sort_by_distance(p)[0] for p in [
        (99, -41, 1.5),
    ]]
    fillet(fillet_12_edges, radius=FILLET_12_R)

    # 草图23 → 切除-拉伸12 (cut)
    with BuildSketch(Plane.XY.offset(3)):
        with Locations((-91, 91)):
            Circle(SKETCH_23_R)
        with Locations((-91, 71)):
            Circle(SKETCH_23_R)
        with Locations((-81, 91)):
            Circle(SKETCH_23_R)
        with Locations((-81, 71)):
            Circle(SKETCH_23_R)
        with Locations((91, 91)):
            Circle(SKETCH_23_R)
        with Locations((81, 91)):
            Circle(SKETCH_23_R)
        with Locations((81, 71)):
            Circle(SKETCH_23_R)
        with Locations((91, 71)):
            Circle(SKETCH_23_R)
        with Locations((-91, -69)):
            Circle(SKETCH_23_R)
        with Locations((-91, -89)):
            Circle(SKETCH_23_R)
        with Locations((-81, -69)):
            Circle(SKETCH_23_R)
        with Locations((-81, -89)):
            Circle(SKETCH_23_R)
        with Locations((81, -69)):
            Circle(SKETCH_23_R)
        with Locations((91, -69)):
            Circle(SKETCH_23_R)
        with Locations((81, -89)):
            Circle(SKETCH_23_R)
        with Locations((91, -89)):
            Circle(SKETCH_23_R)
    extrude(amount=-CUT_EXTRUDE_12_DEPTH, mode=Mode.SUBTRACT)

    # 草图24 → 切除-拉伸13 (cut)
    with BuildSketch(Plane.XY.offset(3)):
        with Locations((-90, 95)):
            Circle(SKETCH_24_R)
        with Locations((-82, 95)):
            Circle(SKETCH_24_R)
        with Locations((-90, 67)):
            Circle(SKETCH_24_R)
        with Locations((-82, 67)):
            Circle(SKETCH_24_R)
        with Locations((82, 95)):
            Circle(SKETCH_24_R)
        with Locations((90, 95)):
            Circle(SKETCH_24_R)
        with Locations((82, 67)):
            Circle(SKETCH_24_R)
        with Locations((90, 67)):
            Circle(SKETCH_24_R)
    extrude(amount=-CUT_EXTRUDE_13_DEPTH, mode=Mode.SUBTRACT)

    # 草图25 → 切除-拉伸14 (cut)
    with BuildSketch(Plane.XY.offset(3)):
        with Locations((-48, 50)):
            Circle(SKETCH_25_R)
        with Locations((-48, 23)):
            Circle(SKETCH_25_R)
        with Locations((48, 50)):
            Circle(SKETCH_25_R)
        with Locations((48, 23)):
            Circle(SKETCH_25_R)
    extrude(amount=-CUT_EXTRUDE_14_DEPTH, mode=Mode.SUBTRACT)

    # 草图26 → 切除-拉伸15 (cut, through all)
    with BuildSketch(Plane(origin=(0, 0, 0), x_dir=(-1, 0, 0), z_dir=(0, 0, -1))):
        with BuildLine():
            Line((28.194855332, 57.686965468), (-21.805144668, 16.153846154))
            ThreePointArc((-21.805144668, 16.153846154), (-28.846153846, 16.805144668), (-28.194855332, 23.846153846))
            Line((-28.194855332, 23.846153846), (21.805144668, 65.379273161))
            ThreePointArc((21.805144668, 65.379273161), (28.846153846, 64.727974646), (28.194855332, 57.686965468))
        make_face()
        with BuildLine():
            Line((28.194855332, 25.186965468), (-21.805144668, -16.346153846))
            ThreePointArc((-21.805144668, -16.346153846), (-28.846153846, -15.694855332), (-28.194855332, -8.653846154))
            Line((-28.194855332, -8.653846154), (21.805144668, 32.879273161))
            ThreePointArc((21.805144668, 32.879273161), (28.846153846, 32.227974646), (28.194855332, 25.186965468))
        make_face()
        with BuildLine():
            Line((28.194855332, -7.313034532), (-21.805144668, -48.846153846))
            ThreePointArc((-21.805144668, -48.846153846), (-28.846153846, -48.194855332), (-28.194855332, -41.153846154))
            Line((-28.194855332, -41.153846154), (21.805144668, 0.379273161))
            ThreePointArc((21.805144668, 0.379273161), (28.846153846, -0.272025354), (28.194855332, -7.313034532))
        make_face()
        with BuildLine():
            Line((28.194855332, -33.313034532), (-6.420529283, -62.066732519))
            ThreePointArc((-6.420529283, -62.066732519), (-13.461538462, -61.415434004), (-12.810239947, -54.374424826))
            Line((-12.810239947, -54.374424826), (21.805144668, -25.620726839))
            ThreePointArc((21.805144668, -25.620726839), (28.846153846, -26.272025354), (28.194855332, -33.313034532))
        make_face()
        with BuildLine():
            Line((1.271778409, 59.679504865), (-21.805144668, 40.510372873))
            ThreePointArc((-21.805144668, 40.510372873), (-28.846153846, 41.161671388), (-28.194855332, 48.202680566))
            Line((-28.194855332, 48.202680566), (-5.117932255, 67.371812557))
            ThreePointArc((-5.117932255, 67.371812557), (1.923076923, 66.720514043), (1.271778409, 59.679504865))
        make_face()
    extrude(amount=-CUT_EXTRUDE_15_DEPTH, mode=Mode.SUBTRACT)


solid = part.part
